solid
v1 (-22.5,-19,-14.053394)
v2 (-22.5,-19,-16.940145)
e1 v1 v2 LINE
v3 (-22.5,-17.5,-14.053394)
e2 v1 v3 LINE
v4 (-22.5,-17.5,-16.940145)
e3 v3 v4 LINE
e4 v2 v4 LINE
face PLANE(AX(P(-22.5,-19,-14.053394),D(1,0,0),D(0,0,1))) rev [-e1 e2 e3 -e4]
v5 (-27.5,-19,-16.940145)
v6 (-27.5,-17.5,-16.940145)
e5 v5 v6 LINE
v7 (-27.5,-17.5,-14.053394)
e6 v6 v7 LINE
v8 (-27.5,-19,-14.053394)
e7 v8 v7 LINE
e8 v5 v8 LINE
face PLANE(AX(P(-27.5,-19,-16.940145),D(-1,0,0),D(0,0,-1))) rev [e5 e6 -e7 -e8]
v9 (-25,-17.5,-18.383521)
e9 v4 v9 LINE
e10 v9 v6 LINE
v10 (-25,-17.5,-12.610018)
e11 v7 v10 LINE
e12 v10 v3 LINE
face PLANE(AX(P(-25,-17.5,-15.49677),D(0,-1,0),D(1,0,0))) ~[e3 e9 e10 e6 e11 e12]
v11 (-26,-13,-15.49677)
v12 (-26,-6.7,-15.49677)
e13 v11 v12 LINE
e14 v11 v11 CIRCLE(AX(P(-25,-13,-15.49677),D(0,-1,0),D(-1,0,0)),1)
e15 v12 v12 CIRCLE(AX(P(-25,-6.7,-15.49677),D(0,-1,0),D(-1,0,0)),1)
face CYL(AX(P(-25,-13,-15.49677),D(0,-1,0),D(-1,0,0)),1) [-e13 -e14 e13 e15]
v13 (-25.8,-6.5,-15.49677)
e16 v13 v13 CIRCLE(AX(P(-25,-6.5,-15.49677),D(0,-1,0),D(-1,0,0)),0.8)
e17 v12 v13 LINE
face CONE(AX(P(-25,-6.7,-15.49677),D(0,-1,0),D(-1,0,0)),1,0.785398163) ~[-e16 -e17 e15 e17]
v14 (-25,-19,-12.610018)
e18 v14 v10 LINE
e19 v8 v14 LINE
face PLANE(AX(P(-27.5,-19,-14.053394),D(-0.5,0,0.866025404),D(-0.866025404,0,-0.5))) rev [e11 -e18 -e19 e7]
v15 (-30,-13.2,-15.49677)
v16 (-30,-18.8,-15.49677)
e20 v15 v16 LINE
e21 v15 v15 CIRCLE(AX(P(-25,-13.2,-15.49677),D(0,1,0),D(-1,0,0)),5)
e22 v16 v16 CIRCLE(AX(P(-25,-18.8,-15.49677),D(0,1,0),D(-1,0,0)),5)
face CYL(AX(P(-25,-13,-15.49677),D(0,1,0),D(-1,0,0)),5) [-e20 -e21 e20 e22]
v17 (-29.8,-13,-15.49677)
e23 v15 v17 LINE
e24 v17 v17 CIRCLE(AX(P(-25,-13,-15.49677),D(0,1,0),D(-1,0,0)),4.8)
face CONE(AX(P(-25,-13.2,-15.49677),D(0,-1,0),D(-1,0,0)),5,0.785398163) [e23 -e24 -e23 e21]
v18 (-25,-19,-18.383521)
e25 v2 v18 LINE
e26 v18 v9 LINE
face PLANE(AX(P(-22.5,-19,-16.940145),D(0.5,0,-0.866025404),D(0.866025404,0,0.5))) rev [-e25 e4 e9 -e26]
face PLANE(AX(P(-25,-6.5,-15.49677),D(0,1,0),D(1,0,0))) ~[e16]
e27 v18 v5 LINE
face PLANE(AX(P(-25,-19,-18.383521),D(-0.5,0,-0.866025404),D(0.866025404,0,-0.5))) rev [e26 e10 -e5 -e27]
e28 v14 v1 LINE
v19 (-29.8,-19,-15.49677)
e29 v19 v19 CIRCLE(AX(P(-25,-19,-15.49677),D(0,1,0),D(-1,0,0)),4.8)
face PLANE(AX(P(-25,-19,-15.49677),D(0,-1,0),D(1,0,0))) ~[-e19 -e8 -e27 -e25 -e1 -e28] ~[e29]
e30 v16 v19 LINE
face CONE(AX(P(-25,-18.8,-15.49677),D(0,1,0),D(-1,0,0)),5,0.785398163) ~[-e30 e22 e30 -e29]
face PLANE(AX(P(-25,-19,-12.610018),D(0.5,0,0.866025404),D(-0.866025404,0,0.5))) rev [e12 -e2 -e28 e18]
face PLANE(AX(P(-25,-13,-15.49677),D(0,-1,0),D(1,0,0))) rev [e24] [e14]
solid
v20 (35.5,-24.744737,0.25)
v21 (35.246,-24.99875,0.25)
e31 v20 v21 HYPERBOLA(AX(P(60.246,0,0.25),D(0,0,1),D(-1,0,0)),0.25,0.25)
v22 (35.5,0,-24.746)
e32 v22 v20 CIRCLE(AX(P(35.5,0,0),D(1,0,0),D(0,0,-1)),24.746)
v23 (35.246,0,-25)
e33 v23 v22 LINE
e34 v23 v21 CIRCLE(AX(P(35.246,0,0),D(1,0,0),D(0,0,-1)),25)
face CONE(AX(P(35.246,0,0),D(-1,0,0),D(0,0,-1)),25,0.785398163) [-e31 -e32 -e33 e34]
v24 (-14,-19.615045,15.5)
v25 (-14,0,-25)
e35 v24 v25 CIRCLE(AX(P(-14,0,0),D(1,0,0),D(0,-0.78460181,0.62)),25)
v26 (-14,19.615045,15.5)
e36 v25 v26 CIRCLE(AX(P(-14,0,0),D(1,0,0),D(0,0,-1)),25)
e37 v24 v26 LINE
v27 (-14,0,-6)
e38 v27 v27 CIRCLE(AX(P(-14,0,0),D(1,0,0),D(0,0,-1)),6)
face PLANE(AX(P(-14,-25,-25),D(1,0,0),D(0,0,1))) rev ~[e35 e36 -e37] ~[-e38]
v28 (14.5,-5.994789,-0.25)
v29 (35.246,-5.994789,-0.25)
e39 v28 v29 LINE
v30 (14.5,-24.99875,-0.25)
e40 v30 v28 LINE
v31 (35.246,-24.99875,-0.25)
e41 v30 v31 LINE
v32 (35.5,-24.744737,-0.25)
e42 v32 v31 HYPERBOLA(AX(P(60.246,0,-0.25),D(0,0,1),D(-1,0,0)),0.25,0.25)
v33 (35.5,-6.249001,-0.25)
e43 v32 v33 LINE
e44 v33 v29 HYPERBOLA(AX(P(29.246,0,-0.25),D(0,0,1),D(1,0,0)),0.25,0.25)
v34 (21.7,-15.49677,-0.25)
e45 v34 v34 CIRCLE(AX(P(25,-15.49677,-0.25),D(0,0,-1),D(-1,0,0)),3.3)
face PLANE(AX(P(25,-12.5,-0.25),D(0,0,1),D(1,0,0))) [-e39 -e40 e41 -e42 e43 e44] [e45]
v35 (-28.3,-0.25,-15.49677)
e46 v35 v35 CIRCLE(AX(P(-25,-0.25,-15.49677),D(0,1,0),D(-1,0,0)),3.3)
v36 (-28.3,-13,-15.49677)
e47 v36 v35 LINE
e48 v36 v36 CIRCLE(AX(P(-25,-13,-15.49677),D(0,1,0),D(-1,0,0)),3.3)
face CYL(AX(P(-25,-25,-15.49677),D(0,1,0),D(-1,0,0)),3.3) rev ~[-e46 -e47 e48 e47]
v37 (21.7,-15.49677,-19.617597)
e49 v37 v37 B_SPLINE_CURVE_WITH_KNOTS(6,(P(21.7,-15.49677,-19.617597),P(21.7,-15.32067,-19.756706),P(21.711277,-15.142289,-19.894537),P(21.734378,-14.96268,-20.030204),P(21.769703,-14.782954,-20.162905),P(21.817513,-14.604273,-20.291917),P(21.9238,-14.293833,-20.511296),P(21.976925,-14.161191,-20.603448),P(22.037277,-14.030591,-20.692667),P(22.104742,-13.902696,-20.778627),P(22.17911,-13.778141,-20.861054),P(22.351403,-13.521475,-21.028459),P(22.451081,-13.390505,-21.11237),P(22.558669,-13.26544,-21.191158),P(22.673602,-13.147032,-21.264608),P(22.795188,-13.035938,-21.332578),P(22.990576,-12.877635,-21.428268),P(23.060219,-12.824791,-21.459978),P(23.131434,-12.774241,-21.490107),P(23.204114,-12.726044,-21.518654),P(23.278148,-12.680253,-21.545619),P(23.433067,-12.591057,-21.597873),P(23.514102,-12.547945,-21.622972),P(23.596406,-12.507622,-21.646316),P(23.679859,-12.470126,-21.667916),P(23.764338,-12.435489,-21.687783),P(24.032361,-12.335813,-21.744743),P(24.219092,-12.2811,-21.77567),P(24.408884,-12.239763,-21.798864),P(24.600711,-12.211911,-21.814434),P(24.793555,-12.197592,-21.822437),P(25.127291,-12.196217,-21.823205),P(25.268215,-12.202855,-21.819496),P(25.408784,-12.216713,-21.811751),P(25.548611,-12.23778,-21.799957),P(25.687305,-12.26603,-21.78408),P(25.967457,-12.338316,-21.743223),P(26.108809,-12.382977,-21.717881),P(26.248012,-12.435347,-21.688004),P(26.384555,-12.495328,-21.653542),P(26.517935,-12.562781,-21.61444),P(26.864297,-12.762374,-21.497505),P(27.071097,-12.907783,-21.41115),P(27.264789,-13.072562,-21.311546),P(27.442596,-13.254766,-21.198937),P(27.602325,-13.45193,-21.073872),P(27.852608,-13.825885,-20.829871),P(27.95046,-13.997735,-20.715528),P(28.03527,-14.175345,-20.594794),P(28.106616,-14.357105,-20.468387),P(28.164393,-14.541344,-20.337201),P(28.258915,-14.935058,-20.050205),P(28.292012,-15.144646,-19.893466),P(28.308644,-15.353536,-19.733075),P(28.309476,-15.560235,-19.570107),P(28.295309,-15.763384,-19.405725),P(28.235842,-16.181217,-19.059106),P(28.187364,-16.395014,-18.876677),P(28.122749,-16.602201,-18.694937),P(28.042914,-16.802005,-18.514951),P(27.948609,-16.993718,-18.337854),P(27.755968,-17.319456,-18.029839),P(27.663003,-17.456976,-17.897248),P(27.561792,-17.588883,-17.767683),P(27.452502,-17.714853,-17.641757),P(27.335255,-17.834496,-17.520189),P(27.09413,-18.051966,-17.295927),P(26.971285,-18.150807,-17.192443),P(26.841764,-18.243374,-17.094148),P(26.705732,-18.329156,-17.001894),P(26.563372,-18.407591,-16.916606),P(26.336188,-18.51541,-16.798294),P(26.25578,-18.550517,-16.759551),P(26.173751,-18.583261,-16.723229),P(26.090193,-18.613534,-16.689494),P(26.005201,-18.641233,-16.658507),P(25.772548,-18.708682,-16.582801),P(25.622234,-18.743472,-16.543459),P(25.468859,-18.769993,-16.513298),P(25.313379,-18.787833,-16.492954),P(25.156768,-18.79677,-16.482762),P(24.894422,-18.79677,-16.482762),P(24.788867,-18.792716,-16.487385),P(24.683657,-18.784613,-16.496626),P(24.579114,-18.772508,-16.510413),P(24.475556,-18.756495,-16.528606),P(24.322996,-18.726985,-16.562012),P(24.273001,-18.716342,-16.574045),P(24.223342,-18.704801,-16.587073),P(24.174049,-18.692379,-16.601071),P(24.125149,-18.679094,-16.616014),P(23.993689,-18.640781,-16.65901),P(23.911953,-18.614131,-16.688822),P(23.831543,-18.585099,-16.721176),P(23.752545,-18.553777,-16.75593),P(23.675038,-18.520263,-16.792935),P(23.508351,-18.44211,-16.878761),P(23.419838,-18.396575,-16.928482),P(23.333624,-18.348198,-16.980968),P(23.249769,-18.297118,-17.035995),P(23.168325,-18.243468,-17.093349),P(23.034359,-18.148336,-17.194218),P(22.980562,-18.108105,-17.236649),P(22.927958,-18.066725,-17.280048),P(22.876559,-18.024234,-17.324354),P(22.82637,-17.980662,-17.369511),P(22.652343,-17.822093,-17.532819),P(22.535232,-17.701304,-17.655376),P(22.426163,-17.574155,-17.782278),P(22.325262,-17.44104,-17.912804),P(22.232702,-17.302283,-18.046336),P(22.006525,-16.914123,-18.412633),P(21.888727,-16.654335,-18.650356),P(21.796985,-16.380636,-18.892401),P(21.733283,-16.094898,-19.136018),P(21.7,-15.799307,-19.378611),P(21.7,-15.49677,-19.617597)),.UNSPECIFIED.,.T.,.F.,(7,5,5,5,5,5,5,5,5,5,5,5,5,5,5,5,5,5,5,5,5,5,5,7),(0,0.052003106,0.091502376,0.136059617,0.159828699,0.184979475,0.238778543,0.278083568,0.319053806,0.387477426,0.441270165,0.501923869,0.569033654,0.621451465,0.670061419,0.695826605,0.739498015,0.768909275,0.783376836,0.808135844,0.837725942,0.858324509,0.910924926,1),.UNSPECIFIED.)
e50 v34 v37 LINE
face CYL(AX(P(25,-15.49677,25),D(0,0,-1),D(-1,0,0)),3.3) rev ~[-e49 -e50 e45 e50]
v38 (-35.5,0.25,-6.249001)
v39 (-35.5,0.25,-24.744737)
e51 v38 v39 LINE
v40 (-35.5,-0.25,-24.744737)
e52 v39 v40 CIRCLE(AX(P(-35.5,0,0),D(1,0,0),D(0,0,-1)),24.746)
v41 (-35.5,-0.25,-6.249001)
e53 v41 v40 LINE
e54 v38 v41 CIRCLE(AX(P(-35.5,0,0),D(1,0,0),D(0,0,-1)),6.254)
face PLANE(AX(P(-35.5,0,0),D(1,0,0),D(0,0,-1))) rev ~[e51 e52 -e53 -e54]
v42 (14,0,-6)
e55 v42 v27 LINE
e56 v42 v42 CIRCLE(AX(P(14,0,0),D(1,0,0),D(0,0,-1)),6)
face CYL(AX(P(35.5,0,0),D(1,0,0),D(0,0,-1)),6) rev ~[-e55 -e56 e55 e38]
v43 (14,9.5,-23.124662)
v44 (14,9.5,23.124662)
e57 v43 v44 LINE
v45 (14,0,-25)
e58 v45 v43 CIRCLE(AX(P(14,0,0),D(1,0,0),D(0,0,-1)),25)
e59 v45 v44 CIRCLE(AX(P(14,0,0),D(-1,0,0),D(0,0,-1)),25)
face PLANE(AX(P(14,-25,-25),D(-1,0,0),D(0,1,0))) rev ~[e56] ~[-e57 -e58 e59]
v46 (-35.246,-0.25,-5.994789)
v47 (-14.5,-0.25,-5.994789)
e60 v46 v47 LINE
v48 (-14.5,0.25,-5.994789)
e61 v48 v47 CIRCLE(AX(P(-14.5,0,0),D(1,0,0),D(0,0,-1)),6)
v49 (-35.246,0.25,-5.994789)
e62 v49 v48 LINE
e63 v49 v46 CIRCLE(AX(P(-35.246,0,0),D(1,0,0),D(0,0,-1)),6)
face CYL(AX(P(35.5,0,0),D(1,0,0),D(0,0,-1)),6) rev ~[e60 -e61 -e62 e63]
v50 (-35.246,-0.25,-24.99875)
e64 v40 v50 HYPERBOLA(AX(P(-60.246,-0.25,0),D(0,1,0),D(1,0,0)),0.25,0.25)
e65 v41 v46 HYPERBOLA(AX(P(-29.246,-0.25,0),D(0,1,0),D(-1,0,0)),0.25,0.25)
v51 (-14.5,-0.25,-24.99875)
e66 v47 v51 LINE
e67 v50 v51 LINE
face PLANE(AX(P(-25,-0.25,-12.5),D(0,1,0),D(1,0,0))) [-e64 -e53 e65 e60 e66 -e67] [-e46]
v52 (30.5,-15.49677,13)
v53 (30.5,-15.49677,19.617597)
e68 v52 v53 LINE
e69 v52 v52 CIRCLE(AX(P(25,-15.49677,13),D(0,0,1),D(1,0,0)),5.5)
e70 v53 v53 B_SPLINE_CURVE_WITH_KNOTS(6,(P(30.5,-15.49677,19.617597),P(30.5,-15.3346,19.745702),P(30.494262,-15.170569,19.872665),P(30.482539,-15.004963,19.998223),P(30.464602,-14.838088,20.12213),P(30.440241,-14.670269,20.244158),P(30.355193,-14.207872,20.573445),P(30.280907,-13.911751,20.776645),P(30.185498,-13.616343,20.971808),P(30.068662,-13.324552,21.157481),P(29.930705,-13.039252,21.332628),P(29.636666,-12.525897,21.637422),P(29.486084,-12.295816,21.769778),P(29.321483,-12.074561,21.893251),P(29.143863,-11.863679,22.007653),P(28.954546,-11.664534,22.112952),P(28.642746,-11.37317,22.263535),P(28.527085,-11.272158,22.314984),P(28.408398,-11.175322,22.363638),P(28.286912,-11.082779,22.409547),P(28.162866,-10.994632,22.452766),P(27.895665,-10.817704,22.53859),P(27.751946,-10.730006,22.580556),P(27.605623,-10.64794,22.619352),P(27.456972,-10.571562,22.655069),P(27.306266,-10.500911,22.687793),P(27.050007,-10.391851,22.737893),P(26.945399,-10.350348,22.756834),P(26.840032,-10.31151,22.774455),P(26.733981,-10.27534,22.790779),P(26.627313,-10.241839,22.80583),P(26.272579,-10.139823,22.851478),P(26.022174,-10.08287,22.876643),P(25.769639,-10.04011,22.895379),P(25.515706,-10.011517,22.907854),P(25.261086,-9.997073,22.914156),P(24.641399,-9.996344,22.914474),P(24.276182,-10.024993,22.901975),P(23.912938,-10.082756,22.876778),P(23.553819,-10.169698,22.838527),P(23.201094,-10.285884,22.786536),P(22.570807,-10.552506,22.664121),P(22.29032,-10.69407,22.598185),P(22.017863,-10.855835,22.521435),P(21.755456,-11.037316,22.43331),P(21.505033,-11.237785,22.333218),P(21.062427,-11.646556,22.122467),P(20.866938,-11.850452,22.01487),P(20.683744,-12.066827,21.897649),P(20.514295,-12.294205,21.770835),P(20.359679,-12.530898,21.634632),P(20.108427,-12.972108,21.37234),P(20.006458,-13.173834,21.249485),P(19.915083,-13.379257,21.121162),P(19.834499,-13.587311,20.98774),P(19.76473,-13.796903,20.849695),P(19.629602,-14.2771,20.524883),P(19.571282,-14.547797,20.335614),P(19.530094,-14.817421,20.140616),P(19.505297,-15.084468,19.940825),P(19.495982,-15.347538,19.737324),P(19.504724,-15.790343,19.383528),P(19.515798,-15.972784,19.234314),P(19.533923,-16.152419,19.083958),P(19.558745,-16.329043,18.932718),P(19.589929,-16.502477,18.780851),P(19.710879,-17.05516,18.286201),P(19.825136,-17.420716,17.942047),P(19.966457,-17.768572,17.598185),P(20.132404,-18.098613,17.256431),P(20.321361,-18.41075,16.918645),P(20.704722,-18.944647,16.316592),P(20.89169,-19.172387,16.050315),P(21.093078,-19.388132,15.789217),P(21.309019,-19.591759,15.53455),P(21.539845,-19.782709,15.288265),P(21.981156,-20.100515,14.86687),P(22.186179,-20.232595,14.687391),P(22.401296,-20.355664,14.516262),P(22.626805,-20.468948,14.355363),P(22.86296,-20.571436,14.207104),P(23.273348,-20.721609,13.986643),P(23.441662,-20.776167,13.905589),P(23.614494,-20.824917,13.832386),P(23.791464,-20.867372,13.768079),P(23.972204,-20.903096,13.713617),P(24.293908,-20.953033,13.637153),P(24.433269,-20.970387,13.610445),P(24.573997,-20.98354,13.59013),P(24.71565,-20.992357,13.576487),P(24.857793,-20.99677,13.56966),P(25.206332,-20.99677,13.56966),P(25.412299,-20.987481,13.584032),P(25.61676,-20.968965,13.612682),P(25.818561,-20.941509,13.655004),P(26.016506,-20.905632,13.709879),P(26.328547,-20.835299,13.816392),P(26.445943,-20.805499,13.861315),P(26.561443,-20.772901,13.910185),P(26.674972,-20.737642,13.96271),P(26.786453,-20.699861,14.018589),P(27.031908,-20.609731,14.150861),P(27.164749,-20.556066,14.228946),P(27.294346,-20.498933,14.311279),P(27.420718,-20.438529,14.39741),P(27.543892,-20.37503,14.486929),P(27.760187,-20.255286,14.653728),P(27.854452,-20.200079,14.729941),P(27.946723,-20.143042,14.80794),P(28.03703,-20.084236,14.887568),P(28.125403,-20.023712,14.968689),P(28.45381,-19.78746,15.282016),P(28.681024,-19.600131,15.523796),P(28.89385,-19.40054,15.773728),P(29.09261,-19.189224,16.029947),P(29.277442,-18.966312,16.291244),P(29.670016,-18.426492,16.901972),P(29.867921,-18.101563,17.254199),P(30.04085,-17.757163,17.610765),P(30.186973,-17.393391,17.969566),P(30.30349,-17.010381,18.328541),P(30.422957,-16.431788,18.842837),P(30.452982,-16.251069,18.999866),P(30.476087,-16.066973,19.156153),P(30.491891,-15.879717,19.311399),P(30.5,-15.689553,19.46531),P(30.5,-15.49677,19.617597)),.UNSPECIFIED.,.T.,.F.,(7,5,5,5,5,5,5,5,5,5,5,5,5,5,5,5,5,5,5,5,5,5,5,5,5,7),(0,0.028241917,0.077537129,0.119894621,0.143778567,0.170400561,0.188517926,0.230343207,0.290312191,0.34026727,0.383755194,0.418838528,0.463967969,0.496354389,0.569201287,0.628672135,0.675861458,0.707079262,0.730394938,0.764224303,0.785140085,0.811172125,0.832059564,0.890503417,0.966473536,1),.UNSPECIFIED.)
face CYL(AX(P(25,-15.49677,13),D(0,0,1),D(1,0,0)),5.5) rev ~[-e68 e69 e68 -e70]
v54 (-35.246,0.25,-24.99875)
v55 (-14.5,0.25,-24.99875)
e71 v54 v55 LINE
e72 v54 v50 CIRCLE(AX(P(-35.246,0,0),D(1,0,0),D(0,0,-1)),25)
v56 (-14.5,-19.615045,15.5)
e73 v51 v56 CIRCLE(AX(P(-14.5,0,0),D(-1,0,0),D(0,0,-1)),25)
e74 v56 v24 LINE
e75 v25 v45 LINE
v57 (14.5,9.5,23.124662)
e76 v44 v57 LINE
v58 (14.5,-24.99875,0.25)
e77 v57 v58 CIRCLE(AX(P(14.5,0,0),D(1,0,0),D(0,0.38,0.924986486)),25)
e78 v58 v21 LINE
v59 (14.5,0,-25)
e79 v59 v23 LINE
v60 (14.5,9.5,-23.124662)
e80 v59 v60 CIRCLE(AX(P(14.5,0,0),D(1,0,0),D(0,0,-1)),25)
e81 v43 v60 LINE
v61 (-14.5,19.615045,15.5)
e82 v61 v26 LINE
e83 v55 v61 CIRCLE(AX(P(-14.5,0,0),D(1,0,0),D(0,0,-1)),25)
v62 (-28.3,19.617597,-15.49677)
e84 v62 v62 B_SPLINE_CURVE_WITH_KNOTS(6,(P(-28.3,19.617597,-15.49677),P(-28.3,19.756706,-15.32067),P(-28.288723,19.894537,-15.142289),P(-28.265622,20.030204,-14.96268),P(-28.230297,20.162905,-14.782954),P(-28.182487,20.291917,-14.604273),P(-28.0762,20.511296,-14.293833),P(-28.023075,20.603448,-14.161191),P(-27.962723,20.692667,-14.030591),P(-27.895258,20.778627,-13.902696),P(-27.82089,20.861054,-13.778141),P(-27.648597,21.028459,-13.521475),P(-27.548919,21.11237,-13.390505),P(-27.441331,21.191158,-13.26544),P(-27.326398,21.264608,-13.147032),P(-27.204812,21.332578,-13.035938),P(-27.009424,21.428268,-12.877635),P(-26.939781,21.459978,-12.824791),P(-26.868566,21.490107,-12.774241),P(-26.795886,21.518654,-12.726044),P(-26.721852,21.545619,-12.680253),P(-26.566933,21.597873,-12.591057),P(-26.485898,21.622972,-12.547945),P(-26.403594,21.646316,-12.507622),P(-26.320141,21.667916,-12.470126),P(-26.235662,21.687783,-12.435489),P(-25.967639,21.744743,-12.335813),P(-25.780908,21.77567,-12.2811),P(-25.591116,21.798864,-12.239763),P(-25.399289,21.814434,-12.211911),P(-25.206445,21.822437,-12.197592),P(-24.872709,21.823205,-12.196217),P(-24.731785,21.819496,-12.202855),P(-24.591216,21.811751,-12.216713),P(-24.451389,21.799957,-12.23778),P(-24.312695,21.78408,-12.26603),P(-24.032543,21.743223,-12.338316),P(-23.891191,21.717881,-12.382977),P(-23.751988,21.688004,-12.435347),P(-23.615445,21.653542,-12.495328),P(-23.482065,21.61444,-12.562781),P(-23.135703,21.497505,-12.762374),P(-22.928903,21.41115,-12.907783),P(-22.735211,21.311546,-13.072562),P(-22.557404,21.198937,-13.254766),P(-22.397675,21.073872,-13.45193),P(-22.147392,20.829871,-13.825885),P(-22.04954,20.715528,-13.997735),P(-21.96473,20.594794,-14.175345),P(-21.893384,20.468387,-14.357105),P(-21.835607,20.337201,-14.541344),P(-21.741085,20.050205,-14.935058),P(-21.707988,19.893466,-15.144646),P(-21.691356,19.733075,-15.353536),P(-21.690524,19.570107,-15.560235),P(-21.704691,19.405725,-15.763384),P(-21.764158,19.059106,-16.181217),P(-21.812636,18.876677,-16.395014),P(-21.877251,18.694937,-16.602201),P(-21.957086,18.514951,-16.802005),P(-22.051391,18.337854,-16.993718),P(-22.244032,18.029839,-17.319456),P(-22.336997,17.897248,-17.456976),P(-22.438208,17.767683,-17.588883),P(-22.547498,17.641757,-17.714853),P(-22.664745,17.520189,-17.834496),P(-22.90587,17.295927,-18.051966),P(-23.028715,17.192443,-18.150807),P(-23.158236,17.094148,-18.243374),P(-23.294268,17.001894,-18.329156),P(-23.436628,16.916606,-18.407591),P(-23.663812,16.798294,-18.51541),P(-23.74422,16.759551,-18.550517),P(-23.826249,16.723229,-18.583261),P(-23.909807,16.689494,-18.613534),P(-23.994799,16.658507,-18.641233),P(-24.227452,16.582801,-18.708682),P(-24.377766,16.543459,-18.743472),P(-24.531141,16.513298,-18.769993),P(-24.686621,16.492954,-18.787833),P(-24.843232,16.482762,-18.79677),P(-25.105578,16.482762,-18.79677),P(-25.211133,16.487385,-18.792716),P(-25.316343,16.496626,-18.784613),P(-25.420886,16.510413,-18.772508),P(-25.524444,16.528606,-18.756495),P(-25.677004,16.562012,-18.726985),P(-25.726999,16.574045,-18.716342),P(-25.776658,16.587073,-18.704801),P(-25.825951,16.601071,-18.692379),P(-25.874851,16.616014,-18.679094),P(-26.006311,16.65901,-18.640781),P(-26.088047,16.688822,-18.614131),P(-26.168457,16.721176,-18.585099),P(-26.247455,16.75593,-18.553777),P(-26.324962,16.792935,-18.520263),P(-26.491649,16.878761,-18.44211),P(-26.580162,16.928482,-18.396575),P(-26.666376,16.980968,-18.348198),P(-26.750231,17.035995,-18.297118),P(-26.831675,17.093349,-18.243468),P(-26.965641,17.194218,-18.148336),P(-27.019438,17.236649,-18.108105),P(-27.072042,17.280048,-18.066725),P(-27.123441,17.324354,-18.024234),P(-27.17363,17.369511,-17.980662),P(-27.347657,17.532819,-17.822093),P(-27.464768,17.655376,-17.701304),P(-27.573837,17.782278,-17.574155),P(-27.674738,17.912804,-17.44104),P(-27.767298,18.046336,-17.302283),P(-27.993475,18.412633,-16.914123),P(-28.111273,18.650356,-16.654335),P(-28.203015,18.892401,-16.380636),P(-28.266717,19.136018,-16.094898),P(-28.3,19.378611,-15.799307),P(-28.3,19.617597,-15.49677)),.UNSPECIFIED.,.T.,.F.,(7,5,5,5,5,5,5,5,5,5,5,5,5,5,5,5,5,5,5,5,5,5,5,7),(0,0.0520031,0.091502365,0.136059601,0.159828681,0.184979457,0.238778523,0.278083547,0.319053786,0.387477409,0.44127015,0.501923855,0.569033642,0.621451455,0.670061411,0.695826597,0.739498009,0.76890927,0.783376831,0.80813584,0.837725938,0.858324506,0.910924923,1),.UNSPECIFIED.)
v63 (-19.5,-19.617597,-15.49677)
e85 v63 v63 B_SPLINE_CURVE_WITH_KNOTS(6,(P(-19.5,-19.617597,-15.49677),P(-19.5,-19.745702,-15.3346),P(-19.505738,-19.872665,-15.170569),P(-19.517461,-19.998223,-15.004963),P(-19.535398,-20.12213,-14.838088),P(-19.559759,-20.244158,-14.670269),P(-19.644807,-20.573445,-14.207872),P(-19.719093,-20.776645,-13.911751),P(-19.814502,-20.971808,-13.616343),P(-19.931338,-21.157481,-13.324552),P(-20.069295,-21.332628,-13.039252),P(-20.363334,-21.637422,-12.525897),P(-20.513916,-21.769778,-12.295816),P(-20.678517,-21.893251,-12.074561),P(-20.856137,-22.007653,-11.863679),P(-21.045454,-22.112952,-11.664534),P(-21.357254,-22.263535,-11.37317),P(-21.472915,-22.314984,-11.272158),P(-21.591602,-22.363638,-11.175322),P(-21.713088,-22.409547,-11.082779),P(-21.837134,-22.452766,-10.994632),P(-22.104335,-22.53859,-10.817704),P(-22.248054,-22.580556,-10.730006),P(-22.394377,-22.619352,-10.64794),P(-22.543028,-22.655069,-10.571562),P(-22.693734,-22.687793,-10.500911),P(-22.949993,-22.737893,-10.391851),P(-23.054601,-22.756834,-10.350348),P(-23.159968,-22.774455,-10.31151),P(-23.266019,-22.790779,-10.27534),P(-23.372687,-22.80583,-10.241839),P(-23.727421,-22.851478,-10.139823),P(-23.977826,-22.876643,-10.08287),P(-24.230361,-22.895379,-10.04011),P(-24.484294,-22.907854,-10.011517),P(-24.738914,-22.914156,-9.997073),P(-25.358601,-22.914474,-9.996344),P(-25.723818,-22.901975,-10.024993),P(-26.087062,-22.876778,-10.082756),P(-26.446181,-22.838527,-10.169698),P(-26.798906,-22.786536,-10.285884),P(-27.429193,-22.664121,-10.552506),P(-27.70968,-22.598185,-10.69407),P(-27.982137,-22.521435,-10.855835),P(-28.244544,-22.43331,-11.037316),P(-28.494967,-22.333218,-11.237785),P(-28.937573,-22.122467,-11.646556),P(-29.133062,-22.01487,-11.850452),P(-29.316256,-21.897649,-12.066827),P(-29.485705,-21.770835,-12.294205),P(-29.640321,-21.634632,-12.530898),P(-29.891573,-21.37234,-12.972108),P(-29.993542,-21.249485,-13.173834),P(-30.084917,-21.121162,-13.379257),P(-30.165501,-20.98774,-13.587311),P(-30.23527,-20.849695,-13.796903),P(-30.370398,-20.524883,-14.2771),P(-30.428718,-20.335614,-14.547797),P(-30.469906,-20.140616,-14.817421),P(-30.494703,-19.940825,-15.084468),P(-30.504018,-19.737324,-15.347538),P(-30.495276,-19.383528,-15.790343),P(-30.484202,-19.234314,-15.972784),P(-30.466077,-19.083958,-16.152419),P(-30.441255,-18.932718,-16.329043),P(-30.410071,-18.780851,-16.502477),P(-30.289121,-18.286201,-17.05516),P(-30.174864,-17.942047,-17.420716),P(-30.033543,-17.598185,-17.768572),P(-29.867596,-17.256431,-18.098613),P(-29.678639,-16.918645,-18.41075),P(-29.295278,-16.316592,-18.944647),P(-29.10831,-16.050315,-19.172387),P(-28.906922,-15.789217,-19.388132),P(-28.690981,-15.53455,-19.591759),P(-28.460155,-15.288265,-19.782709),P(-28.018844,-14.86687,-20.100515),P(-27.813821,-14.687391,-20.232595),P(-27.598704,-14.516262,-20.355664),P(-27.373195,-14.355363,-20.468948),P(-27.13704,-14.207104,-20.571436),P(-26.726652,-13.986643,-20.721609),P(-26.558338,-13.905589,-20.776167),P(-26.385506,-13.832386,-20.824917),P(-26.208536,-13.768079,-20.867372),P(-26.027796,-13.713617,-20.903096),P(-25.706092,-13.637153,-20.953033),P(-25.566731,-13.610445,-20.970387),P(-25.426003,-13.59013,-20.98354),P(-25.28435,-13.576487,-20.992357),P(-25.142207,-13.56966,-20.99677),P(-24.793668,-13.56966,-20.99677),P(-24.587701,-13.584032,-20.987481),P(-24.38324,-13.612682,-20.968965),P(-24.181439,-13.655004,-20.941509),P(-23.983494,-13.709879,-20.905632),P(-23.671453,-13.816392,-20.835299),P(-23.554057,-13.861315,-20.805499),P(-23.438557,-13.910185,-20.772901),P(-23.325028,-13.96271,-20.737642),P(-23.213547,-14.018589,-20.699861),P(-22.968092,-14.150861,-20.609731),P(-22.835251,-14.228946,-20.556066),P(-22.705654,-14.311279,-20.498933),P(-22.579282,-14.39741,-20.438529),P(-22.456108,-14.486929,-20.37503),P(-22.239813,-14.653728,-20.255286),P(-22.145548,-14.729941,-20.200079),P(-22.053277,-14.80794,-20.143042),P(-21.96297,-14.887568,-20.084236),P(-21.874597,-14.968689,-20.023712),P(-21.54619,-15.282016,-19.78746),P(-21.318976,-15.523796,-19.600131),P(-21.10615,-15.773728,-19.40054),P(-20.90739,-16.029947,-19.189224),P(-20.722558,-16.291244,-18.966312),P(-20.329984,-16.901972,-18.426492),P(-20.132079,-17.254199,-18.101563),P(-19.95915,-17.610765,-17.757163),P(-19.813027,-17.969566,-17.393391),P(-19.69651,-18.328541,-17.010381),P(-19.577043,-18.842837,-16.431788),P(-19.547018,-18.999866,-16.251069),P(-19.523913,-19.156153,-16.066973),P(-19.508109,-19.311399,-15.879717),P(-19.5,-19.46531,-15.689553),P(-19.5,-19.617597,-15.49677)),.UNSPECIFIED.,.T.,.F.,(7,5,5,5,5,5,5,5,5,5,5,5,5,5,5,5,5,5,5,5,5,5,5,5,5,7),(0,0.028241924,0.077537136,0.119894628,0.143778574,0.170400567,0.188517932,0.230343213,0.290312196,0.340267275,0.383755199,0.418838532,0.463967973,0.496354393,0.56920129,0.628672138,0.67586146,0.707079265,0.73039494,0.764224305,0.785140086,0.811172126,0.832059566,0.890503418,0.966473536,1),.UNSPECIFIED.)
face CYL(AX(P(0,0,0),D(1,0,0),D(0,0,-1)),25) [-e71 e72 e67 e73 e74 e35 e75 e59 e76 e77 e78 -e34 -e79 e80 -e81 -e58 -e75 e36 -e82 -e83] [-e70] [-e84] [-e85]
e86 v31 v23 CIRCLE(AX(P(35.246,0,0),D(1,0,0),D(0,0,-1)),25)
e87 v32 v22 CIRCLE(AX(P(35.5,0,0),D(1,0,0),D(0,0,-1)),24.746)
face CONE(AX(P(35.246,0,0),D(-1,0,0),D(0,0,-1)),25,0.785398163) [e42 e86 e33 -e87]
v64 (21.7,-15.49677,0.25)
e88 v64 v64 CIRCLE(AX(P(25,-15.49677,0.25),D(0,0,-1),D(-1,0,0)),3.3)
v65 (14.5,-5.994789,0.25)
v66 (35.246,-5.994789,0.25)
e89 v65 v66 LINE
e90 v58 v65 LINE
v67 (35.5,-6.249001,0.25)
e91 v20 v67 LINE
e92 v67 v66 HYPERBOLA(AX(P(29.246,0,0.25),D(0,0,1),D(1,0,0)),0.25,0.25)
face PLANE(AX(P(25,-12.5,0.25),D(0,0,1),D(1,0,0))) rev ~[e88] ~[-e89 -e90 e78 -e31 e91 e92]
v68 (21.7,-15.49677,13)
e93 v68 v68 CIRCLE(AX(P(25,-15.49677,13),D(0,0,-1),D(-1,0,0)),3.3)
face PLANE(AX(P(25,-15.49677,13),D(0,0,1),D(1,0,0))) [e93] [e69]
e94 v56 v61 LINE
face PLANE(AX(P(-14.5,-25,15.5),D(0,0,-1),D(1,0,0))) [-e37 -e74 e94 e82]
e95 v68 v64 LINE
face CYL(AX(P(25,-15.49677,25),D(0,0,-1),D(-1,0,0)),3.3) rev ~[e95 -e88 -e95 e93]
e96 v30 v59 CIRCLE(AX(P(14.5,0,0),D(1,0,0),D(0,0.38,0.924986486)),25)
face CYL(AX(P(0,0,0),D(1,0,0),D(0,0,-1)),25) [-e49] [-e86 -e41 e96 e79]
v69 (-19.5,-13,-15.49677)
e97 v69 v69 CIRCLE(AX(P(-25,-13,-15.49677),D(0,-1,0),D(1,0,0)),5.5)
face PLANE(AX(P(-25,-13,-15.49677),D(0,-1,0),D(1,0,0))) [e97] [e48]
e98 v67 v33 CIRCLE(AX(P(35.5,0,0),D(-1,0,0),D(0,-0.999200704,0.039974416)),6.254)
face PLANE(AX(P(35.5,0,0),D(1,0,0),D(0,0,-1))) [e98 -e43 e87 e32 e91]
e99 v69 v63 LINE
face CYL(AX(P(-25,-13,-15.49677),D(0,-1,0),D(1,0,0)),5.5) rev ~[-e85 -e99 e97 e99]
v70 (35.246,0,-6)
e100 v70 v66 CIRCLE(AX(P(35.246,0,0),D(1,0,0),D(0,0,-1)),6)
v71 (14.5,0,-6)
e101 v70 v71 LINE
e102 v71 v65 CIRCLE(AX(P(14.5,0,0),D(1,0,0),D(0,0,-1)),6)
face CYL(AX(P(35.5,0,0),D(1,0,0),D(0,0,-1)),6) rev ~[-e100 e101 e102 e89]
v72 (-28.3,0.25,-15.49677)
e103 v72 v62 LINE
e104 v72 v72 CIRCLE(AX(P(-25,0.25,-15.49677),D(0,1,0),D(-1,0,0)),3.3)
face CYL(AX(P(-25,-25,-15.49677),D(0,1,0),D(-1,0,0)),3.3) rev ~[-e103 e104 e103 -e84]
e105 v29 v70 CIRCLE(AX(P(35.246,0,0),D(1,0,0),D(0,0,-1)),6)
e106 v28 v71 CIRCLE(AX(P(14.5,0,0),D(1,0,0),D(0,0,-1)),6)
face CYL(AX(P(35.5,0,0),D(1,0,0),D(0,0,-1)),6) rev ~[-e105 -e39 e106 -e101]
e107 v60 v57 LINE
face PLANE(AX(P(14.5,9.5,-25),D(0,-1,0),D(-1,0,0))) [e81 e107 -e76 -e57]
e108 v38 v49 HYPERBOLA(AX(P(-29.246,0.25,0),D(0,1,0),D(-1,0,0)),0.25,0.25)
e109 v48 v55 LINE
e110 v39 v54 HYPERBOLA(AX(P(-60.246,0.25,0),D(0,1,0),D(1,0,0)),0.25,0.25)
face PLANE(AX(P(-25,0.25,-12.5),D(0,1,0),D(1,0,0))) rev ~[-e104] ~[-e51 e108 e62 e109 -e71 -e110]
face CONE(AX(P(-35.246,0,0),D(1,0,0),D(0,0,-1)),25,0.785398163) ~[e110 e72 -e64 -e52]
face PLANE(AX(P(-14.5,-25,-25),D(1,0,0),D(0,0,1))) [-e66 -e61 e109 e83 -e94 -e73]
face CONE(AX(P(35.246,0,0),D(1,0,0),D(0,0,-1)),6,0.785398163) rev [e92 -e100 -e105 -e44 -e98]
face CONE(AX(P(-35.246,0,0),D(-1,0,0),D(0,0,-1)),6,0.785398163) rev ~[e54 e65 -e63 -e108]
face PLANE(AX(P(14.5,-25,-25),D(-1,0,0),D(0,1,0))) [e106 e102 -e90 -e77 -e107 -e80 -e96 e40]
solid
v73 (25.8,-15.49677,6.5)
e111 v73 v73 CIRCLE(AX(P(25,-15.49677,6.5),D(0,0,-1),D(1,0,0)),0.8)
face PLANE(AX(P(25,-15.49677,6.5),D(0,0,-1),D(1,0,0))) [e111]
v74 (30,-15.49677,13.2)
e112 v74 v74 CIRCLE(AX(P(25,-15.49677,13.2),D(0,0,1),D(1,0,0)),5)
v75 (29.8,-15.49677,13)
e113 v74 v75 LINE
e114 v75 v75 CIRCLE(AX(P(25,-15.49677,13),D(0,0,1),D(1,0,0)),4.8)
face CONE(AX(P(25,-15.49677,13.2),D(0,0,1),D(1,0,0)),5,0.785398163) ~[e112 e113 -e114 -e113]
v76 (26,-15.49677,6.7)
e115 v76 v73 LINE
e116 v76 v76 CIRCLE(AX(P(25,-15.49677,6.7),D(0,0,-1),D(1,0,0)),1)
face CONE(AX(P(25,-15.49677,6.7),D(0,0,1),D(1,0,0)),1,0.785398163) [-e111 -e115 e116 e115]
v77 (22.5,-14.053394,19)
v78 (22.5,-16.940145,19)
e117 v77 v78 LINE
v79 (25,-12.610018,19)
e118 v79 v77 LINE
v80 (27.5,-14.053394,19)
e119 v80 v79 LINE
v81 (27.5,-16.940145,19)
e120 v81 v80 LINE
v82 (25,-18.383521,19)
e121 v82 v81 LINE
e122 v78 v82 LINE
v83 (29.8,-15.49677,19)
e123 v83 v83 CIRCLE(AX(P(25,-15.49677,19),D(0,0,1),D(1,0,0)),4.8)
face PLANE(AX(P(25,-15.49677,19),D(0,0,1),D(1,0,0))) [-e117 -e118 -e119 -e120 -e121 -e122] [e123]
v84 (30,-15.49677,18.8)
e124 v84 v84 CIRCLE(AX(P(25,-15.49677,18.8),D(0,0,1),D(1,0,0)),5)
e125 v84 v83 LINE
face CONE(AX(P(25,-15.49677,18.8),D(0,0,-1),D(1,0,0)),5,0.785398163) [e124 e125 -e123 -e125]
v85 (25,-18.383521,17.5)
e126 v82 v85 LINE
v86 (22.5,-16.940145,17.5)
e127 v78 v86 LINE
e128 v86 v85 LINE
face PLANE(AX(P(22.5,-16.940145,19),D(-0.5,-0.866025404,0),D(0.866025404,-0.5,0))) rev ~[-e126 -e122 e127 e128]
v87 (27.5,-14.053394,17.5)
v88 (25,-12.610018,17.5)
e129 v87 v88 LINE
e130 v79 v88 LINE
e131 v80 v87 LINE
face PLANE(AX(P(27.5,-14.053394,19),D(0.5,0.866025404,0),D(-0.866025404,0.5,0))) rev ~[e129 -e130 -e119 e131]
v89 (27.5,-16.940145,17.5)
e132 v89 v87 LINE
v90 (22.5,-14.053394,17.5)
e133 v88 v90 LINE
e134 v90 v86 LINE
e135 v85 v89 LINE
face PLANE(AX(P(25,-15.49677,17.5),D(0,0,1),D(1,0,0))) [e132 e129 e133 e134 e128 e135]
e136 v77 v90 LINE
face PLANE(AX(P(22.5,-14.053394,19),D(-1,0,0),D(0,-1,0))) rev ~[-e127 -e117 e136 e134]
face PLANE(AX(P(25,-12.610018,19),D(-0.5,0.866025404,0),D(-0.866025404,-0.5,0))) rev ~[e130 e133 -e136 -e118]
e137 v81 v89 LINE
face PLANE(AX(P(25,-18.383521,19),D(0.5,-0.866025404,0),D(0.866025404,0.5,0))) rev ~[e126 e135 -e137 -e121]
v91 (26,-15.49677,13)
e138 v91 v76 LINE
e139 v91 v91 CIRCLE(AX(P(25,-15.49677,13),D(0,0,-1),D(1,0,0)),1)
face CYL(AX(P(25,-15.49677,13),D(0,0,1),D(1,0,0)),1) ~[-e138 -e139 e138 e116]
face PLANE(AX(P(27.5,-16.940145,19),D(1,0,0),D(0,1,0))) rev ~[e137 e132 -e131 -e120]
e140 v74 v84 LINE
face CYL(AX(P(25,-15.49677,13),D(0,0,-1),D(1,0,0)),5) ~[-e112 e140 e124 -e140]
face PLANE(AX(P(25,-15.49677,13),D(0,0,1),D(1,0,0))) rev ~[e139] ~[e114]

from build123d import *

# Parameters (mm, degrees)
SKETCH1_R                      = 25
BOSS_EXTRUDE1_DEPTH            = 35.5
SKETCH2_R                      = 6
CUT_EXTRUDE1_DEPTH             = 72
CHAMFER1_SIZE                  = 0.254
SKETCH4_W                      = 0.5
SKETCH4_H                      = 40.5
CUT_EXTRUDE2_DEPTH             = 51
SKETCH7_W                      = 0.5
SKETCH7_H                      = 34.5
CUT_EXTRUDE3_DEPTH             = 51
SKETCH8_W                      = 21
SKETCH8_H                      = 25
CUT_EXTRUDE5_DEPTH             = 0.25
SKETCH13_W                     = 21
SKETCH13_H                     = 25
CUT_EXTRUDE6_DEPTH             = 0.25
CBORE_FOR_M6_SHCS1_D           = 6.6
CBORE_FOR_M6_SHCS1_CBORE_D     = 11
CBORE_FOR_M6_SHCS1_CBORE_DEPTH = 12
CBORE_FOR_M6_SHCS2_D           = 6.6
CBORE_FOR_M6_SHCS2_CBORE_D     = 11
CBORE_FOR_M6_SHCS2_CBORE_DEPTH = 12
SKETCH16_R                     = 5
BOSS_EXTRUDE2_DEPTH            = 6
SKETCH17_R                     = 1
BOSS_EXTRUDE3_DEPTH            = 6.5
CHAMFER2_SIZE                  = 0.2
CUT_EXTRUDE7_DEPTH             = 1.5
CIRPATTERN1_COUNT              = 2
CIRPATTERN1_ANGLE              = 90


with BuildPart() as part:
    # Sketch1 → Boss-Extrude1 (new body, symmetric)
    with BuildSketch(Plane(origin=(0, 0, 0), x_dir=(0, 0, -1), z_dir=(1, 0, 0))):
        Circle(SKETCH1_R)
    extrude(amount=BOSS_EXTRUDE1_DEPTH, both=True)

    # Sketch2 → Cut-Extrude1 (cut, through all)
    with BuildSketch(Plane(origin=(35.5, 0, 0), x_dir=(0, 0, -1), z_dir=(1, 0, 0))):
        Circle(SKETCH2_R)
    extrude(amount=-CUT_EXTRUDE1_DEPTH, mode=Mode.SUBTRACT)

    # Chamfer1
    chamfer1_edges = [part.edges().sort_by_distance(p)[0] for p in [
        (-35.5, 0, 25),
        (35.5, 0, 25),
        (-35.5, 0, 6),
        (35.5, 0, 6),
    ]]
    chamfer(chamfer1_edges, length=CHAMFER1_SIZE)

    # Sketch4 → Cut-Extrude2 (cut, through all)
    with BuildSketch(Plane.XZ.offset(25)):
        with Locations((-14.25, -4.75)):
            Rectangle(SKETCH4_W, SKETCH4_H)
    extrude(amount=-CUT_EXTRUDE2_DEPTH, mode=Mode.SUBTRACT)

    # Sketch7 → Cut-Extrude3 (cut, through all)
    with BuildSketch(Plane(origin=(0, 0, -25), x_dir=(-1, 0, 0), z_dir=(0, 0, -1))):
        with Locations((-14.25, -7.75)):
            Rectangle(SKETCH7_W, SKETCH7_H)
    extrude(amount=-CUT_EXTRUDE3_DEPTH, mode=Mode.SUBTRACT)

    # Sketch8 → Cut-Extrude5 (cut, symmetric)
    with BuildSketch(Plane(origin=(0, 0, 0), x_dir=(1, 0, 0), z_dir=(0, 1, 0))):
        with Locations((-25, 12.5)):
            Rectangle(SKETCH8_W, SKETCH8_H)
    extrude(amount=CUT_EXTRUDE5_DEPTH, both=True, mode=Mode.SUBTRACT)

    # Sketch13 → Cut-Extrude6 (cut, symmetric)
    with BuildSketch(Plane.XY):
        with Locations((25, -12.5)):
            Rectangle(SKETCH13_W, SKETCH13_H)
    extrude(amount=CUT_EXTRUDE6_DEPTH, both=True, mode=Mode.SUBTRACT)

    # CBORE for M6 SHCS1 (through all)
    with Locations(Plane.XZ.offset(25)):
        with Locations((-25, -15.496769686)):
            CounterBoreHole(CBORE_FOR_M6_SHCS1_D / 2, CBORE_FOR_M6_SHCS1_CBORE_D / 2, CBORE_FOR_M6_SHCS1_CBORE_DEPTH)

    # CBORE for M6 SHCS2 (through all)
    with Locations(Plane.XY.offset(25)):
        with Locations((25, -15.496769686)):
            CounterBoreHole(CBORE_FOR_M6_SHCS2_D / 2, CBORE_FOR_M6_SHCS2_CBORE_D / 2, CBORE_FOR_M6_SHCS2_CBORE_DEPTH)


with BuildPart() as body_2:
    # Sketch16 → Boss-Extrude2 (new body)
    with BuildSketch(Plane.XY.offset(13)):
        with Locations((25, -15.496769686)):
            Circle(SKETCH16_R)
    extrude(amount=BOSS_EXTRUDE2_DEPTH)

    # Sketch17 → Boss-Extrude3 (add)
    with BuildSketch(Plane(origin=(0, 0, 13), x_dir=(-1, 0, 0), z_dir=(0, 0, -1))):
        with Locations(Location((-25, -15.496769686, 0), (0, 0, 180))):  # turned: the seam where the file's is
            Circle(SKETCH17_R)
    extrude(amount=BOSS_EXTRUDE3_DEPTH)

    # Chamfer2
    chamfer2_edges = [body_2.edges().sort_by_distance(p)[0] for p in [
        (20, -15.496769686, 13),
        (20, -15.496769686, 19),
        (24, -15.496769686, 6.5),
    ]]
    chamfer(chamfer2_edges, length=CHAMFER2_SIZE)

    # Sketch18 → Cut-Extrude7 (cut)
    with BuildSketch(Plane.XY.offset(19)):
        Polygon((25, -18.383521032), (27.5, -16.940145359), (27.5, -14.053394013), (25, -12.61001834), (22.5, -14.053394013), (22.5, -16.940145359), align=None)
    extrude(amount=-CUT_EXTRUDE7_DEPTH, mode=Mode.SUBTRACT)


with BuildPart() as body_3:
    # Mirror1: mirrored copy
    add(body_2.part.mirror(Plane(origin=(0, 0, 0), x_dir=(0, 0, 1), z_dir=(1, 0, 0))))


with BuildPart() as cirpattern1_1:
    # CirPattern1: pattern copy
    add(body_3.part.rotate(Axis((0, 0, 0), (1, 0, 0)), 1 * CIRPATTERN1_ANGLE / (CIRPATTERN1_COUNT - 1)))


solid = Compound([part.part, body_2.part, cirpattern1_1.part])
